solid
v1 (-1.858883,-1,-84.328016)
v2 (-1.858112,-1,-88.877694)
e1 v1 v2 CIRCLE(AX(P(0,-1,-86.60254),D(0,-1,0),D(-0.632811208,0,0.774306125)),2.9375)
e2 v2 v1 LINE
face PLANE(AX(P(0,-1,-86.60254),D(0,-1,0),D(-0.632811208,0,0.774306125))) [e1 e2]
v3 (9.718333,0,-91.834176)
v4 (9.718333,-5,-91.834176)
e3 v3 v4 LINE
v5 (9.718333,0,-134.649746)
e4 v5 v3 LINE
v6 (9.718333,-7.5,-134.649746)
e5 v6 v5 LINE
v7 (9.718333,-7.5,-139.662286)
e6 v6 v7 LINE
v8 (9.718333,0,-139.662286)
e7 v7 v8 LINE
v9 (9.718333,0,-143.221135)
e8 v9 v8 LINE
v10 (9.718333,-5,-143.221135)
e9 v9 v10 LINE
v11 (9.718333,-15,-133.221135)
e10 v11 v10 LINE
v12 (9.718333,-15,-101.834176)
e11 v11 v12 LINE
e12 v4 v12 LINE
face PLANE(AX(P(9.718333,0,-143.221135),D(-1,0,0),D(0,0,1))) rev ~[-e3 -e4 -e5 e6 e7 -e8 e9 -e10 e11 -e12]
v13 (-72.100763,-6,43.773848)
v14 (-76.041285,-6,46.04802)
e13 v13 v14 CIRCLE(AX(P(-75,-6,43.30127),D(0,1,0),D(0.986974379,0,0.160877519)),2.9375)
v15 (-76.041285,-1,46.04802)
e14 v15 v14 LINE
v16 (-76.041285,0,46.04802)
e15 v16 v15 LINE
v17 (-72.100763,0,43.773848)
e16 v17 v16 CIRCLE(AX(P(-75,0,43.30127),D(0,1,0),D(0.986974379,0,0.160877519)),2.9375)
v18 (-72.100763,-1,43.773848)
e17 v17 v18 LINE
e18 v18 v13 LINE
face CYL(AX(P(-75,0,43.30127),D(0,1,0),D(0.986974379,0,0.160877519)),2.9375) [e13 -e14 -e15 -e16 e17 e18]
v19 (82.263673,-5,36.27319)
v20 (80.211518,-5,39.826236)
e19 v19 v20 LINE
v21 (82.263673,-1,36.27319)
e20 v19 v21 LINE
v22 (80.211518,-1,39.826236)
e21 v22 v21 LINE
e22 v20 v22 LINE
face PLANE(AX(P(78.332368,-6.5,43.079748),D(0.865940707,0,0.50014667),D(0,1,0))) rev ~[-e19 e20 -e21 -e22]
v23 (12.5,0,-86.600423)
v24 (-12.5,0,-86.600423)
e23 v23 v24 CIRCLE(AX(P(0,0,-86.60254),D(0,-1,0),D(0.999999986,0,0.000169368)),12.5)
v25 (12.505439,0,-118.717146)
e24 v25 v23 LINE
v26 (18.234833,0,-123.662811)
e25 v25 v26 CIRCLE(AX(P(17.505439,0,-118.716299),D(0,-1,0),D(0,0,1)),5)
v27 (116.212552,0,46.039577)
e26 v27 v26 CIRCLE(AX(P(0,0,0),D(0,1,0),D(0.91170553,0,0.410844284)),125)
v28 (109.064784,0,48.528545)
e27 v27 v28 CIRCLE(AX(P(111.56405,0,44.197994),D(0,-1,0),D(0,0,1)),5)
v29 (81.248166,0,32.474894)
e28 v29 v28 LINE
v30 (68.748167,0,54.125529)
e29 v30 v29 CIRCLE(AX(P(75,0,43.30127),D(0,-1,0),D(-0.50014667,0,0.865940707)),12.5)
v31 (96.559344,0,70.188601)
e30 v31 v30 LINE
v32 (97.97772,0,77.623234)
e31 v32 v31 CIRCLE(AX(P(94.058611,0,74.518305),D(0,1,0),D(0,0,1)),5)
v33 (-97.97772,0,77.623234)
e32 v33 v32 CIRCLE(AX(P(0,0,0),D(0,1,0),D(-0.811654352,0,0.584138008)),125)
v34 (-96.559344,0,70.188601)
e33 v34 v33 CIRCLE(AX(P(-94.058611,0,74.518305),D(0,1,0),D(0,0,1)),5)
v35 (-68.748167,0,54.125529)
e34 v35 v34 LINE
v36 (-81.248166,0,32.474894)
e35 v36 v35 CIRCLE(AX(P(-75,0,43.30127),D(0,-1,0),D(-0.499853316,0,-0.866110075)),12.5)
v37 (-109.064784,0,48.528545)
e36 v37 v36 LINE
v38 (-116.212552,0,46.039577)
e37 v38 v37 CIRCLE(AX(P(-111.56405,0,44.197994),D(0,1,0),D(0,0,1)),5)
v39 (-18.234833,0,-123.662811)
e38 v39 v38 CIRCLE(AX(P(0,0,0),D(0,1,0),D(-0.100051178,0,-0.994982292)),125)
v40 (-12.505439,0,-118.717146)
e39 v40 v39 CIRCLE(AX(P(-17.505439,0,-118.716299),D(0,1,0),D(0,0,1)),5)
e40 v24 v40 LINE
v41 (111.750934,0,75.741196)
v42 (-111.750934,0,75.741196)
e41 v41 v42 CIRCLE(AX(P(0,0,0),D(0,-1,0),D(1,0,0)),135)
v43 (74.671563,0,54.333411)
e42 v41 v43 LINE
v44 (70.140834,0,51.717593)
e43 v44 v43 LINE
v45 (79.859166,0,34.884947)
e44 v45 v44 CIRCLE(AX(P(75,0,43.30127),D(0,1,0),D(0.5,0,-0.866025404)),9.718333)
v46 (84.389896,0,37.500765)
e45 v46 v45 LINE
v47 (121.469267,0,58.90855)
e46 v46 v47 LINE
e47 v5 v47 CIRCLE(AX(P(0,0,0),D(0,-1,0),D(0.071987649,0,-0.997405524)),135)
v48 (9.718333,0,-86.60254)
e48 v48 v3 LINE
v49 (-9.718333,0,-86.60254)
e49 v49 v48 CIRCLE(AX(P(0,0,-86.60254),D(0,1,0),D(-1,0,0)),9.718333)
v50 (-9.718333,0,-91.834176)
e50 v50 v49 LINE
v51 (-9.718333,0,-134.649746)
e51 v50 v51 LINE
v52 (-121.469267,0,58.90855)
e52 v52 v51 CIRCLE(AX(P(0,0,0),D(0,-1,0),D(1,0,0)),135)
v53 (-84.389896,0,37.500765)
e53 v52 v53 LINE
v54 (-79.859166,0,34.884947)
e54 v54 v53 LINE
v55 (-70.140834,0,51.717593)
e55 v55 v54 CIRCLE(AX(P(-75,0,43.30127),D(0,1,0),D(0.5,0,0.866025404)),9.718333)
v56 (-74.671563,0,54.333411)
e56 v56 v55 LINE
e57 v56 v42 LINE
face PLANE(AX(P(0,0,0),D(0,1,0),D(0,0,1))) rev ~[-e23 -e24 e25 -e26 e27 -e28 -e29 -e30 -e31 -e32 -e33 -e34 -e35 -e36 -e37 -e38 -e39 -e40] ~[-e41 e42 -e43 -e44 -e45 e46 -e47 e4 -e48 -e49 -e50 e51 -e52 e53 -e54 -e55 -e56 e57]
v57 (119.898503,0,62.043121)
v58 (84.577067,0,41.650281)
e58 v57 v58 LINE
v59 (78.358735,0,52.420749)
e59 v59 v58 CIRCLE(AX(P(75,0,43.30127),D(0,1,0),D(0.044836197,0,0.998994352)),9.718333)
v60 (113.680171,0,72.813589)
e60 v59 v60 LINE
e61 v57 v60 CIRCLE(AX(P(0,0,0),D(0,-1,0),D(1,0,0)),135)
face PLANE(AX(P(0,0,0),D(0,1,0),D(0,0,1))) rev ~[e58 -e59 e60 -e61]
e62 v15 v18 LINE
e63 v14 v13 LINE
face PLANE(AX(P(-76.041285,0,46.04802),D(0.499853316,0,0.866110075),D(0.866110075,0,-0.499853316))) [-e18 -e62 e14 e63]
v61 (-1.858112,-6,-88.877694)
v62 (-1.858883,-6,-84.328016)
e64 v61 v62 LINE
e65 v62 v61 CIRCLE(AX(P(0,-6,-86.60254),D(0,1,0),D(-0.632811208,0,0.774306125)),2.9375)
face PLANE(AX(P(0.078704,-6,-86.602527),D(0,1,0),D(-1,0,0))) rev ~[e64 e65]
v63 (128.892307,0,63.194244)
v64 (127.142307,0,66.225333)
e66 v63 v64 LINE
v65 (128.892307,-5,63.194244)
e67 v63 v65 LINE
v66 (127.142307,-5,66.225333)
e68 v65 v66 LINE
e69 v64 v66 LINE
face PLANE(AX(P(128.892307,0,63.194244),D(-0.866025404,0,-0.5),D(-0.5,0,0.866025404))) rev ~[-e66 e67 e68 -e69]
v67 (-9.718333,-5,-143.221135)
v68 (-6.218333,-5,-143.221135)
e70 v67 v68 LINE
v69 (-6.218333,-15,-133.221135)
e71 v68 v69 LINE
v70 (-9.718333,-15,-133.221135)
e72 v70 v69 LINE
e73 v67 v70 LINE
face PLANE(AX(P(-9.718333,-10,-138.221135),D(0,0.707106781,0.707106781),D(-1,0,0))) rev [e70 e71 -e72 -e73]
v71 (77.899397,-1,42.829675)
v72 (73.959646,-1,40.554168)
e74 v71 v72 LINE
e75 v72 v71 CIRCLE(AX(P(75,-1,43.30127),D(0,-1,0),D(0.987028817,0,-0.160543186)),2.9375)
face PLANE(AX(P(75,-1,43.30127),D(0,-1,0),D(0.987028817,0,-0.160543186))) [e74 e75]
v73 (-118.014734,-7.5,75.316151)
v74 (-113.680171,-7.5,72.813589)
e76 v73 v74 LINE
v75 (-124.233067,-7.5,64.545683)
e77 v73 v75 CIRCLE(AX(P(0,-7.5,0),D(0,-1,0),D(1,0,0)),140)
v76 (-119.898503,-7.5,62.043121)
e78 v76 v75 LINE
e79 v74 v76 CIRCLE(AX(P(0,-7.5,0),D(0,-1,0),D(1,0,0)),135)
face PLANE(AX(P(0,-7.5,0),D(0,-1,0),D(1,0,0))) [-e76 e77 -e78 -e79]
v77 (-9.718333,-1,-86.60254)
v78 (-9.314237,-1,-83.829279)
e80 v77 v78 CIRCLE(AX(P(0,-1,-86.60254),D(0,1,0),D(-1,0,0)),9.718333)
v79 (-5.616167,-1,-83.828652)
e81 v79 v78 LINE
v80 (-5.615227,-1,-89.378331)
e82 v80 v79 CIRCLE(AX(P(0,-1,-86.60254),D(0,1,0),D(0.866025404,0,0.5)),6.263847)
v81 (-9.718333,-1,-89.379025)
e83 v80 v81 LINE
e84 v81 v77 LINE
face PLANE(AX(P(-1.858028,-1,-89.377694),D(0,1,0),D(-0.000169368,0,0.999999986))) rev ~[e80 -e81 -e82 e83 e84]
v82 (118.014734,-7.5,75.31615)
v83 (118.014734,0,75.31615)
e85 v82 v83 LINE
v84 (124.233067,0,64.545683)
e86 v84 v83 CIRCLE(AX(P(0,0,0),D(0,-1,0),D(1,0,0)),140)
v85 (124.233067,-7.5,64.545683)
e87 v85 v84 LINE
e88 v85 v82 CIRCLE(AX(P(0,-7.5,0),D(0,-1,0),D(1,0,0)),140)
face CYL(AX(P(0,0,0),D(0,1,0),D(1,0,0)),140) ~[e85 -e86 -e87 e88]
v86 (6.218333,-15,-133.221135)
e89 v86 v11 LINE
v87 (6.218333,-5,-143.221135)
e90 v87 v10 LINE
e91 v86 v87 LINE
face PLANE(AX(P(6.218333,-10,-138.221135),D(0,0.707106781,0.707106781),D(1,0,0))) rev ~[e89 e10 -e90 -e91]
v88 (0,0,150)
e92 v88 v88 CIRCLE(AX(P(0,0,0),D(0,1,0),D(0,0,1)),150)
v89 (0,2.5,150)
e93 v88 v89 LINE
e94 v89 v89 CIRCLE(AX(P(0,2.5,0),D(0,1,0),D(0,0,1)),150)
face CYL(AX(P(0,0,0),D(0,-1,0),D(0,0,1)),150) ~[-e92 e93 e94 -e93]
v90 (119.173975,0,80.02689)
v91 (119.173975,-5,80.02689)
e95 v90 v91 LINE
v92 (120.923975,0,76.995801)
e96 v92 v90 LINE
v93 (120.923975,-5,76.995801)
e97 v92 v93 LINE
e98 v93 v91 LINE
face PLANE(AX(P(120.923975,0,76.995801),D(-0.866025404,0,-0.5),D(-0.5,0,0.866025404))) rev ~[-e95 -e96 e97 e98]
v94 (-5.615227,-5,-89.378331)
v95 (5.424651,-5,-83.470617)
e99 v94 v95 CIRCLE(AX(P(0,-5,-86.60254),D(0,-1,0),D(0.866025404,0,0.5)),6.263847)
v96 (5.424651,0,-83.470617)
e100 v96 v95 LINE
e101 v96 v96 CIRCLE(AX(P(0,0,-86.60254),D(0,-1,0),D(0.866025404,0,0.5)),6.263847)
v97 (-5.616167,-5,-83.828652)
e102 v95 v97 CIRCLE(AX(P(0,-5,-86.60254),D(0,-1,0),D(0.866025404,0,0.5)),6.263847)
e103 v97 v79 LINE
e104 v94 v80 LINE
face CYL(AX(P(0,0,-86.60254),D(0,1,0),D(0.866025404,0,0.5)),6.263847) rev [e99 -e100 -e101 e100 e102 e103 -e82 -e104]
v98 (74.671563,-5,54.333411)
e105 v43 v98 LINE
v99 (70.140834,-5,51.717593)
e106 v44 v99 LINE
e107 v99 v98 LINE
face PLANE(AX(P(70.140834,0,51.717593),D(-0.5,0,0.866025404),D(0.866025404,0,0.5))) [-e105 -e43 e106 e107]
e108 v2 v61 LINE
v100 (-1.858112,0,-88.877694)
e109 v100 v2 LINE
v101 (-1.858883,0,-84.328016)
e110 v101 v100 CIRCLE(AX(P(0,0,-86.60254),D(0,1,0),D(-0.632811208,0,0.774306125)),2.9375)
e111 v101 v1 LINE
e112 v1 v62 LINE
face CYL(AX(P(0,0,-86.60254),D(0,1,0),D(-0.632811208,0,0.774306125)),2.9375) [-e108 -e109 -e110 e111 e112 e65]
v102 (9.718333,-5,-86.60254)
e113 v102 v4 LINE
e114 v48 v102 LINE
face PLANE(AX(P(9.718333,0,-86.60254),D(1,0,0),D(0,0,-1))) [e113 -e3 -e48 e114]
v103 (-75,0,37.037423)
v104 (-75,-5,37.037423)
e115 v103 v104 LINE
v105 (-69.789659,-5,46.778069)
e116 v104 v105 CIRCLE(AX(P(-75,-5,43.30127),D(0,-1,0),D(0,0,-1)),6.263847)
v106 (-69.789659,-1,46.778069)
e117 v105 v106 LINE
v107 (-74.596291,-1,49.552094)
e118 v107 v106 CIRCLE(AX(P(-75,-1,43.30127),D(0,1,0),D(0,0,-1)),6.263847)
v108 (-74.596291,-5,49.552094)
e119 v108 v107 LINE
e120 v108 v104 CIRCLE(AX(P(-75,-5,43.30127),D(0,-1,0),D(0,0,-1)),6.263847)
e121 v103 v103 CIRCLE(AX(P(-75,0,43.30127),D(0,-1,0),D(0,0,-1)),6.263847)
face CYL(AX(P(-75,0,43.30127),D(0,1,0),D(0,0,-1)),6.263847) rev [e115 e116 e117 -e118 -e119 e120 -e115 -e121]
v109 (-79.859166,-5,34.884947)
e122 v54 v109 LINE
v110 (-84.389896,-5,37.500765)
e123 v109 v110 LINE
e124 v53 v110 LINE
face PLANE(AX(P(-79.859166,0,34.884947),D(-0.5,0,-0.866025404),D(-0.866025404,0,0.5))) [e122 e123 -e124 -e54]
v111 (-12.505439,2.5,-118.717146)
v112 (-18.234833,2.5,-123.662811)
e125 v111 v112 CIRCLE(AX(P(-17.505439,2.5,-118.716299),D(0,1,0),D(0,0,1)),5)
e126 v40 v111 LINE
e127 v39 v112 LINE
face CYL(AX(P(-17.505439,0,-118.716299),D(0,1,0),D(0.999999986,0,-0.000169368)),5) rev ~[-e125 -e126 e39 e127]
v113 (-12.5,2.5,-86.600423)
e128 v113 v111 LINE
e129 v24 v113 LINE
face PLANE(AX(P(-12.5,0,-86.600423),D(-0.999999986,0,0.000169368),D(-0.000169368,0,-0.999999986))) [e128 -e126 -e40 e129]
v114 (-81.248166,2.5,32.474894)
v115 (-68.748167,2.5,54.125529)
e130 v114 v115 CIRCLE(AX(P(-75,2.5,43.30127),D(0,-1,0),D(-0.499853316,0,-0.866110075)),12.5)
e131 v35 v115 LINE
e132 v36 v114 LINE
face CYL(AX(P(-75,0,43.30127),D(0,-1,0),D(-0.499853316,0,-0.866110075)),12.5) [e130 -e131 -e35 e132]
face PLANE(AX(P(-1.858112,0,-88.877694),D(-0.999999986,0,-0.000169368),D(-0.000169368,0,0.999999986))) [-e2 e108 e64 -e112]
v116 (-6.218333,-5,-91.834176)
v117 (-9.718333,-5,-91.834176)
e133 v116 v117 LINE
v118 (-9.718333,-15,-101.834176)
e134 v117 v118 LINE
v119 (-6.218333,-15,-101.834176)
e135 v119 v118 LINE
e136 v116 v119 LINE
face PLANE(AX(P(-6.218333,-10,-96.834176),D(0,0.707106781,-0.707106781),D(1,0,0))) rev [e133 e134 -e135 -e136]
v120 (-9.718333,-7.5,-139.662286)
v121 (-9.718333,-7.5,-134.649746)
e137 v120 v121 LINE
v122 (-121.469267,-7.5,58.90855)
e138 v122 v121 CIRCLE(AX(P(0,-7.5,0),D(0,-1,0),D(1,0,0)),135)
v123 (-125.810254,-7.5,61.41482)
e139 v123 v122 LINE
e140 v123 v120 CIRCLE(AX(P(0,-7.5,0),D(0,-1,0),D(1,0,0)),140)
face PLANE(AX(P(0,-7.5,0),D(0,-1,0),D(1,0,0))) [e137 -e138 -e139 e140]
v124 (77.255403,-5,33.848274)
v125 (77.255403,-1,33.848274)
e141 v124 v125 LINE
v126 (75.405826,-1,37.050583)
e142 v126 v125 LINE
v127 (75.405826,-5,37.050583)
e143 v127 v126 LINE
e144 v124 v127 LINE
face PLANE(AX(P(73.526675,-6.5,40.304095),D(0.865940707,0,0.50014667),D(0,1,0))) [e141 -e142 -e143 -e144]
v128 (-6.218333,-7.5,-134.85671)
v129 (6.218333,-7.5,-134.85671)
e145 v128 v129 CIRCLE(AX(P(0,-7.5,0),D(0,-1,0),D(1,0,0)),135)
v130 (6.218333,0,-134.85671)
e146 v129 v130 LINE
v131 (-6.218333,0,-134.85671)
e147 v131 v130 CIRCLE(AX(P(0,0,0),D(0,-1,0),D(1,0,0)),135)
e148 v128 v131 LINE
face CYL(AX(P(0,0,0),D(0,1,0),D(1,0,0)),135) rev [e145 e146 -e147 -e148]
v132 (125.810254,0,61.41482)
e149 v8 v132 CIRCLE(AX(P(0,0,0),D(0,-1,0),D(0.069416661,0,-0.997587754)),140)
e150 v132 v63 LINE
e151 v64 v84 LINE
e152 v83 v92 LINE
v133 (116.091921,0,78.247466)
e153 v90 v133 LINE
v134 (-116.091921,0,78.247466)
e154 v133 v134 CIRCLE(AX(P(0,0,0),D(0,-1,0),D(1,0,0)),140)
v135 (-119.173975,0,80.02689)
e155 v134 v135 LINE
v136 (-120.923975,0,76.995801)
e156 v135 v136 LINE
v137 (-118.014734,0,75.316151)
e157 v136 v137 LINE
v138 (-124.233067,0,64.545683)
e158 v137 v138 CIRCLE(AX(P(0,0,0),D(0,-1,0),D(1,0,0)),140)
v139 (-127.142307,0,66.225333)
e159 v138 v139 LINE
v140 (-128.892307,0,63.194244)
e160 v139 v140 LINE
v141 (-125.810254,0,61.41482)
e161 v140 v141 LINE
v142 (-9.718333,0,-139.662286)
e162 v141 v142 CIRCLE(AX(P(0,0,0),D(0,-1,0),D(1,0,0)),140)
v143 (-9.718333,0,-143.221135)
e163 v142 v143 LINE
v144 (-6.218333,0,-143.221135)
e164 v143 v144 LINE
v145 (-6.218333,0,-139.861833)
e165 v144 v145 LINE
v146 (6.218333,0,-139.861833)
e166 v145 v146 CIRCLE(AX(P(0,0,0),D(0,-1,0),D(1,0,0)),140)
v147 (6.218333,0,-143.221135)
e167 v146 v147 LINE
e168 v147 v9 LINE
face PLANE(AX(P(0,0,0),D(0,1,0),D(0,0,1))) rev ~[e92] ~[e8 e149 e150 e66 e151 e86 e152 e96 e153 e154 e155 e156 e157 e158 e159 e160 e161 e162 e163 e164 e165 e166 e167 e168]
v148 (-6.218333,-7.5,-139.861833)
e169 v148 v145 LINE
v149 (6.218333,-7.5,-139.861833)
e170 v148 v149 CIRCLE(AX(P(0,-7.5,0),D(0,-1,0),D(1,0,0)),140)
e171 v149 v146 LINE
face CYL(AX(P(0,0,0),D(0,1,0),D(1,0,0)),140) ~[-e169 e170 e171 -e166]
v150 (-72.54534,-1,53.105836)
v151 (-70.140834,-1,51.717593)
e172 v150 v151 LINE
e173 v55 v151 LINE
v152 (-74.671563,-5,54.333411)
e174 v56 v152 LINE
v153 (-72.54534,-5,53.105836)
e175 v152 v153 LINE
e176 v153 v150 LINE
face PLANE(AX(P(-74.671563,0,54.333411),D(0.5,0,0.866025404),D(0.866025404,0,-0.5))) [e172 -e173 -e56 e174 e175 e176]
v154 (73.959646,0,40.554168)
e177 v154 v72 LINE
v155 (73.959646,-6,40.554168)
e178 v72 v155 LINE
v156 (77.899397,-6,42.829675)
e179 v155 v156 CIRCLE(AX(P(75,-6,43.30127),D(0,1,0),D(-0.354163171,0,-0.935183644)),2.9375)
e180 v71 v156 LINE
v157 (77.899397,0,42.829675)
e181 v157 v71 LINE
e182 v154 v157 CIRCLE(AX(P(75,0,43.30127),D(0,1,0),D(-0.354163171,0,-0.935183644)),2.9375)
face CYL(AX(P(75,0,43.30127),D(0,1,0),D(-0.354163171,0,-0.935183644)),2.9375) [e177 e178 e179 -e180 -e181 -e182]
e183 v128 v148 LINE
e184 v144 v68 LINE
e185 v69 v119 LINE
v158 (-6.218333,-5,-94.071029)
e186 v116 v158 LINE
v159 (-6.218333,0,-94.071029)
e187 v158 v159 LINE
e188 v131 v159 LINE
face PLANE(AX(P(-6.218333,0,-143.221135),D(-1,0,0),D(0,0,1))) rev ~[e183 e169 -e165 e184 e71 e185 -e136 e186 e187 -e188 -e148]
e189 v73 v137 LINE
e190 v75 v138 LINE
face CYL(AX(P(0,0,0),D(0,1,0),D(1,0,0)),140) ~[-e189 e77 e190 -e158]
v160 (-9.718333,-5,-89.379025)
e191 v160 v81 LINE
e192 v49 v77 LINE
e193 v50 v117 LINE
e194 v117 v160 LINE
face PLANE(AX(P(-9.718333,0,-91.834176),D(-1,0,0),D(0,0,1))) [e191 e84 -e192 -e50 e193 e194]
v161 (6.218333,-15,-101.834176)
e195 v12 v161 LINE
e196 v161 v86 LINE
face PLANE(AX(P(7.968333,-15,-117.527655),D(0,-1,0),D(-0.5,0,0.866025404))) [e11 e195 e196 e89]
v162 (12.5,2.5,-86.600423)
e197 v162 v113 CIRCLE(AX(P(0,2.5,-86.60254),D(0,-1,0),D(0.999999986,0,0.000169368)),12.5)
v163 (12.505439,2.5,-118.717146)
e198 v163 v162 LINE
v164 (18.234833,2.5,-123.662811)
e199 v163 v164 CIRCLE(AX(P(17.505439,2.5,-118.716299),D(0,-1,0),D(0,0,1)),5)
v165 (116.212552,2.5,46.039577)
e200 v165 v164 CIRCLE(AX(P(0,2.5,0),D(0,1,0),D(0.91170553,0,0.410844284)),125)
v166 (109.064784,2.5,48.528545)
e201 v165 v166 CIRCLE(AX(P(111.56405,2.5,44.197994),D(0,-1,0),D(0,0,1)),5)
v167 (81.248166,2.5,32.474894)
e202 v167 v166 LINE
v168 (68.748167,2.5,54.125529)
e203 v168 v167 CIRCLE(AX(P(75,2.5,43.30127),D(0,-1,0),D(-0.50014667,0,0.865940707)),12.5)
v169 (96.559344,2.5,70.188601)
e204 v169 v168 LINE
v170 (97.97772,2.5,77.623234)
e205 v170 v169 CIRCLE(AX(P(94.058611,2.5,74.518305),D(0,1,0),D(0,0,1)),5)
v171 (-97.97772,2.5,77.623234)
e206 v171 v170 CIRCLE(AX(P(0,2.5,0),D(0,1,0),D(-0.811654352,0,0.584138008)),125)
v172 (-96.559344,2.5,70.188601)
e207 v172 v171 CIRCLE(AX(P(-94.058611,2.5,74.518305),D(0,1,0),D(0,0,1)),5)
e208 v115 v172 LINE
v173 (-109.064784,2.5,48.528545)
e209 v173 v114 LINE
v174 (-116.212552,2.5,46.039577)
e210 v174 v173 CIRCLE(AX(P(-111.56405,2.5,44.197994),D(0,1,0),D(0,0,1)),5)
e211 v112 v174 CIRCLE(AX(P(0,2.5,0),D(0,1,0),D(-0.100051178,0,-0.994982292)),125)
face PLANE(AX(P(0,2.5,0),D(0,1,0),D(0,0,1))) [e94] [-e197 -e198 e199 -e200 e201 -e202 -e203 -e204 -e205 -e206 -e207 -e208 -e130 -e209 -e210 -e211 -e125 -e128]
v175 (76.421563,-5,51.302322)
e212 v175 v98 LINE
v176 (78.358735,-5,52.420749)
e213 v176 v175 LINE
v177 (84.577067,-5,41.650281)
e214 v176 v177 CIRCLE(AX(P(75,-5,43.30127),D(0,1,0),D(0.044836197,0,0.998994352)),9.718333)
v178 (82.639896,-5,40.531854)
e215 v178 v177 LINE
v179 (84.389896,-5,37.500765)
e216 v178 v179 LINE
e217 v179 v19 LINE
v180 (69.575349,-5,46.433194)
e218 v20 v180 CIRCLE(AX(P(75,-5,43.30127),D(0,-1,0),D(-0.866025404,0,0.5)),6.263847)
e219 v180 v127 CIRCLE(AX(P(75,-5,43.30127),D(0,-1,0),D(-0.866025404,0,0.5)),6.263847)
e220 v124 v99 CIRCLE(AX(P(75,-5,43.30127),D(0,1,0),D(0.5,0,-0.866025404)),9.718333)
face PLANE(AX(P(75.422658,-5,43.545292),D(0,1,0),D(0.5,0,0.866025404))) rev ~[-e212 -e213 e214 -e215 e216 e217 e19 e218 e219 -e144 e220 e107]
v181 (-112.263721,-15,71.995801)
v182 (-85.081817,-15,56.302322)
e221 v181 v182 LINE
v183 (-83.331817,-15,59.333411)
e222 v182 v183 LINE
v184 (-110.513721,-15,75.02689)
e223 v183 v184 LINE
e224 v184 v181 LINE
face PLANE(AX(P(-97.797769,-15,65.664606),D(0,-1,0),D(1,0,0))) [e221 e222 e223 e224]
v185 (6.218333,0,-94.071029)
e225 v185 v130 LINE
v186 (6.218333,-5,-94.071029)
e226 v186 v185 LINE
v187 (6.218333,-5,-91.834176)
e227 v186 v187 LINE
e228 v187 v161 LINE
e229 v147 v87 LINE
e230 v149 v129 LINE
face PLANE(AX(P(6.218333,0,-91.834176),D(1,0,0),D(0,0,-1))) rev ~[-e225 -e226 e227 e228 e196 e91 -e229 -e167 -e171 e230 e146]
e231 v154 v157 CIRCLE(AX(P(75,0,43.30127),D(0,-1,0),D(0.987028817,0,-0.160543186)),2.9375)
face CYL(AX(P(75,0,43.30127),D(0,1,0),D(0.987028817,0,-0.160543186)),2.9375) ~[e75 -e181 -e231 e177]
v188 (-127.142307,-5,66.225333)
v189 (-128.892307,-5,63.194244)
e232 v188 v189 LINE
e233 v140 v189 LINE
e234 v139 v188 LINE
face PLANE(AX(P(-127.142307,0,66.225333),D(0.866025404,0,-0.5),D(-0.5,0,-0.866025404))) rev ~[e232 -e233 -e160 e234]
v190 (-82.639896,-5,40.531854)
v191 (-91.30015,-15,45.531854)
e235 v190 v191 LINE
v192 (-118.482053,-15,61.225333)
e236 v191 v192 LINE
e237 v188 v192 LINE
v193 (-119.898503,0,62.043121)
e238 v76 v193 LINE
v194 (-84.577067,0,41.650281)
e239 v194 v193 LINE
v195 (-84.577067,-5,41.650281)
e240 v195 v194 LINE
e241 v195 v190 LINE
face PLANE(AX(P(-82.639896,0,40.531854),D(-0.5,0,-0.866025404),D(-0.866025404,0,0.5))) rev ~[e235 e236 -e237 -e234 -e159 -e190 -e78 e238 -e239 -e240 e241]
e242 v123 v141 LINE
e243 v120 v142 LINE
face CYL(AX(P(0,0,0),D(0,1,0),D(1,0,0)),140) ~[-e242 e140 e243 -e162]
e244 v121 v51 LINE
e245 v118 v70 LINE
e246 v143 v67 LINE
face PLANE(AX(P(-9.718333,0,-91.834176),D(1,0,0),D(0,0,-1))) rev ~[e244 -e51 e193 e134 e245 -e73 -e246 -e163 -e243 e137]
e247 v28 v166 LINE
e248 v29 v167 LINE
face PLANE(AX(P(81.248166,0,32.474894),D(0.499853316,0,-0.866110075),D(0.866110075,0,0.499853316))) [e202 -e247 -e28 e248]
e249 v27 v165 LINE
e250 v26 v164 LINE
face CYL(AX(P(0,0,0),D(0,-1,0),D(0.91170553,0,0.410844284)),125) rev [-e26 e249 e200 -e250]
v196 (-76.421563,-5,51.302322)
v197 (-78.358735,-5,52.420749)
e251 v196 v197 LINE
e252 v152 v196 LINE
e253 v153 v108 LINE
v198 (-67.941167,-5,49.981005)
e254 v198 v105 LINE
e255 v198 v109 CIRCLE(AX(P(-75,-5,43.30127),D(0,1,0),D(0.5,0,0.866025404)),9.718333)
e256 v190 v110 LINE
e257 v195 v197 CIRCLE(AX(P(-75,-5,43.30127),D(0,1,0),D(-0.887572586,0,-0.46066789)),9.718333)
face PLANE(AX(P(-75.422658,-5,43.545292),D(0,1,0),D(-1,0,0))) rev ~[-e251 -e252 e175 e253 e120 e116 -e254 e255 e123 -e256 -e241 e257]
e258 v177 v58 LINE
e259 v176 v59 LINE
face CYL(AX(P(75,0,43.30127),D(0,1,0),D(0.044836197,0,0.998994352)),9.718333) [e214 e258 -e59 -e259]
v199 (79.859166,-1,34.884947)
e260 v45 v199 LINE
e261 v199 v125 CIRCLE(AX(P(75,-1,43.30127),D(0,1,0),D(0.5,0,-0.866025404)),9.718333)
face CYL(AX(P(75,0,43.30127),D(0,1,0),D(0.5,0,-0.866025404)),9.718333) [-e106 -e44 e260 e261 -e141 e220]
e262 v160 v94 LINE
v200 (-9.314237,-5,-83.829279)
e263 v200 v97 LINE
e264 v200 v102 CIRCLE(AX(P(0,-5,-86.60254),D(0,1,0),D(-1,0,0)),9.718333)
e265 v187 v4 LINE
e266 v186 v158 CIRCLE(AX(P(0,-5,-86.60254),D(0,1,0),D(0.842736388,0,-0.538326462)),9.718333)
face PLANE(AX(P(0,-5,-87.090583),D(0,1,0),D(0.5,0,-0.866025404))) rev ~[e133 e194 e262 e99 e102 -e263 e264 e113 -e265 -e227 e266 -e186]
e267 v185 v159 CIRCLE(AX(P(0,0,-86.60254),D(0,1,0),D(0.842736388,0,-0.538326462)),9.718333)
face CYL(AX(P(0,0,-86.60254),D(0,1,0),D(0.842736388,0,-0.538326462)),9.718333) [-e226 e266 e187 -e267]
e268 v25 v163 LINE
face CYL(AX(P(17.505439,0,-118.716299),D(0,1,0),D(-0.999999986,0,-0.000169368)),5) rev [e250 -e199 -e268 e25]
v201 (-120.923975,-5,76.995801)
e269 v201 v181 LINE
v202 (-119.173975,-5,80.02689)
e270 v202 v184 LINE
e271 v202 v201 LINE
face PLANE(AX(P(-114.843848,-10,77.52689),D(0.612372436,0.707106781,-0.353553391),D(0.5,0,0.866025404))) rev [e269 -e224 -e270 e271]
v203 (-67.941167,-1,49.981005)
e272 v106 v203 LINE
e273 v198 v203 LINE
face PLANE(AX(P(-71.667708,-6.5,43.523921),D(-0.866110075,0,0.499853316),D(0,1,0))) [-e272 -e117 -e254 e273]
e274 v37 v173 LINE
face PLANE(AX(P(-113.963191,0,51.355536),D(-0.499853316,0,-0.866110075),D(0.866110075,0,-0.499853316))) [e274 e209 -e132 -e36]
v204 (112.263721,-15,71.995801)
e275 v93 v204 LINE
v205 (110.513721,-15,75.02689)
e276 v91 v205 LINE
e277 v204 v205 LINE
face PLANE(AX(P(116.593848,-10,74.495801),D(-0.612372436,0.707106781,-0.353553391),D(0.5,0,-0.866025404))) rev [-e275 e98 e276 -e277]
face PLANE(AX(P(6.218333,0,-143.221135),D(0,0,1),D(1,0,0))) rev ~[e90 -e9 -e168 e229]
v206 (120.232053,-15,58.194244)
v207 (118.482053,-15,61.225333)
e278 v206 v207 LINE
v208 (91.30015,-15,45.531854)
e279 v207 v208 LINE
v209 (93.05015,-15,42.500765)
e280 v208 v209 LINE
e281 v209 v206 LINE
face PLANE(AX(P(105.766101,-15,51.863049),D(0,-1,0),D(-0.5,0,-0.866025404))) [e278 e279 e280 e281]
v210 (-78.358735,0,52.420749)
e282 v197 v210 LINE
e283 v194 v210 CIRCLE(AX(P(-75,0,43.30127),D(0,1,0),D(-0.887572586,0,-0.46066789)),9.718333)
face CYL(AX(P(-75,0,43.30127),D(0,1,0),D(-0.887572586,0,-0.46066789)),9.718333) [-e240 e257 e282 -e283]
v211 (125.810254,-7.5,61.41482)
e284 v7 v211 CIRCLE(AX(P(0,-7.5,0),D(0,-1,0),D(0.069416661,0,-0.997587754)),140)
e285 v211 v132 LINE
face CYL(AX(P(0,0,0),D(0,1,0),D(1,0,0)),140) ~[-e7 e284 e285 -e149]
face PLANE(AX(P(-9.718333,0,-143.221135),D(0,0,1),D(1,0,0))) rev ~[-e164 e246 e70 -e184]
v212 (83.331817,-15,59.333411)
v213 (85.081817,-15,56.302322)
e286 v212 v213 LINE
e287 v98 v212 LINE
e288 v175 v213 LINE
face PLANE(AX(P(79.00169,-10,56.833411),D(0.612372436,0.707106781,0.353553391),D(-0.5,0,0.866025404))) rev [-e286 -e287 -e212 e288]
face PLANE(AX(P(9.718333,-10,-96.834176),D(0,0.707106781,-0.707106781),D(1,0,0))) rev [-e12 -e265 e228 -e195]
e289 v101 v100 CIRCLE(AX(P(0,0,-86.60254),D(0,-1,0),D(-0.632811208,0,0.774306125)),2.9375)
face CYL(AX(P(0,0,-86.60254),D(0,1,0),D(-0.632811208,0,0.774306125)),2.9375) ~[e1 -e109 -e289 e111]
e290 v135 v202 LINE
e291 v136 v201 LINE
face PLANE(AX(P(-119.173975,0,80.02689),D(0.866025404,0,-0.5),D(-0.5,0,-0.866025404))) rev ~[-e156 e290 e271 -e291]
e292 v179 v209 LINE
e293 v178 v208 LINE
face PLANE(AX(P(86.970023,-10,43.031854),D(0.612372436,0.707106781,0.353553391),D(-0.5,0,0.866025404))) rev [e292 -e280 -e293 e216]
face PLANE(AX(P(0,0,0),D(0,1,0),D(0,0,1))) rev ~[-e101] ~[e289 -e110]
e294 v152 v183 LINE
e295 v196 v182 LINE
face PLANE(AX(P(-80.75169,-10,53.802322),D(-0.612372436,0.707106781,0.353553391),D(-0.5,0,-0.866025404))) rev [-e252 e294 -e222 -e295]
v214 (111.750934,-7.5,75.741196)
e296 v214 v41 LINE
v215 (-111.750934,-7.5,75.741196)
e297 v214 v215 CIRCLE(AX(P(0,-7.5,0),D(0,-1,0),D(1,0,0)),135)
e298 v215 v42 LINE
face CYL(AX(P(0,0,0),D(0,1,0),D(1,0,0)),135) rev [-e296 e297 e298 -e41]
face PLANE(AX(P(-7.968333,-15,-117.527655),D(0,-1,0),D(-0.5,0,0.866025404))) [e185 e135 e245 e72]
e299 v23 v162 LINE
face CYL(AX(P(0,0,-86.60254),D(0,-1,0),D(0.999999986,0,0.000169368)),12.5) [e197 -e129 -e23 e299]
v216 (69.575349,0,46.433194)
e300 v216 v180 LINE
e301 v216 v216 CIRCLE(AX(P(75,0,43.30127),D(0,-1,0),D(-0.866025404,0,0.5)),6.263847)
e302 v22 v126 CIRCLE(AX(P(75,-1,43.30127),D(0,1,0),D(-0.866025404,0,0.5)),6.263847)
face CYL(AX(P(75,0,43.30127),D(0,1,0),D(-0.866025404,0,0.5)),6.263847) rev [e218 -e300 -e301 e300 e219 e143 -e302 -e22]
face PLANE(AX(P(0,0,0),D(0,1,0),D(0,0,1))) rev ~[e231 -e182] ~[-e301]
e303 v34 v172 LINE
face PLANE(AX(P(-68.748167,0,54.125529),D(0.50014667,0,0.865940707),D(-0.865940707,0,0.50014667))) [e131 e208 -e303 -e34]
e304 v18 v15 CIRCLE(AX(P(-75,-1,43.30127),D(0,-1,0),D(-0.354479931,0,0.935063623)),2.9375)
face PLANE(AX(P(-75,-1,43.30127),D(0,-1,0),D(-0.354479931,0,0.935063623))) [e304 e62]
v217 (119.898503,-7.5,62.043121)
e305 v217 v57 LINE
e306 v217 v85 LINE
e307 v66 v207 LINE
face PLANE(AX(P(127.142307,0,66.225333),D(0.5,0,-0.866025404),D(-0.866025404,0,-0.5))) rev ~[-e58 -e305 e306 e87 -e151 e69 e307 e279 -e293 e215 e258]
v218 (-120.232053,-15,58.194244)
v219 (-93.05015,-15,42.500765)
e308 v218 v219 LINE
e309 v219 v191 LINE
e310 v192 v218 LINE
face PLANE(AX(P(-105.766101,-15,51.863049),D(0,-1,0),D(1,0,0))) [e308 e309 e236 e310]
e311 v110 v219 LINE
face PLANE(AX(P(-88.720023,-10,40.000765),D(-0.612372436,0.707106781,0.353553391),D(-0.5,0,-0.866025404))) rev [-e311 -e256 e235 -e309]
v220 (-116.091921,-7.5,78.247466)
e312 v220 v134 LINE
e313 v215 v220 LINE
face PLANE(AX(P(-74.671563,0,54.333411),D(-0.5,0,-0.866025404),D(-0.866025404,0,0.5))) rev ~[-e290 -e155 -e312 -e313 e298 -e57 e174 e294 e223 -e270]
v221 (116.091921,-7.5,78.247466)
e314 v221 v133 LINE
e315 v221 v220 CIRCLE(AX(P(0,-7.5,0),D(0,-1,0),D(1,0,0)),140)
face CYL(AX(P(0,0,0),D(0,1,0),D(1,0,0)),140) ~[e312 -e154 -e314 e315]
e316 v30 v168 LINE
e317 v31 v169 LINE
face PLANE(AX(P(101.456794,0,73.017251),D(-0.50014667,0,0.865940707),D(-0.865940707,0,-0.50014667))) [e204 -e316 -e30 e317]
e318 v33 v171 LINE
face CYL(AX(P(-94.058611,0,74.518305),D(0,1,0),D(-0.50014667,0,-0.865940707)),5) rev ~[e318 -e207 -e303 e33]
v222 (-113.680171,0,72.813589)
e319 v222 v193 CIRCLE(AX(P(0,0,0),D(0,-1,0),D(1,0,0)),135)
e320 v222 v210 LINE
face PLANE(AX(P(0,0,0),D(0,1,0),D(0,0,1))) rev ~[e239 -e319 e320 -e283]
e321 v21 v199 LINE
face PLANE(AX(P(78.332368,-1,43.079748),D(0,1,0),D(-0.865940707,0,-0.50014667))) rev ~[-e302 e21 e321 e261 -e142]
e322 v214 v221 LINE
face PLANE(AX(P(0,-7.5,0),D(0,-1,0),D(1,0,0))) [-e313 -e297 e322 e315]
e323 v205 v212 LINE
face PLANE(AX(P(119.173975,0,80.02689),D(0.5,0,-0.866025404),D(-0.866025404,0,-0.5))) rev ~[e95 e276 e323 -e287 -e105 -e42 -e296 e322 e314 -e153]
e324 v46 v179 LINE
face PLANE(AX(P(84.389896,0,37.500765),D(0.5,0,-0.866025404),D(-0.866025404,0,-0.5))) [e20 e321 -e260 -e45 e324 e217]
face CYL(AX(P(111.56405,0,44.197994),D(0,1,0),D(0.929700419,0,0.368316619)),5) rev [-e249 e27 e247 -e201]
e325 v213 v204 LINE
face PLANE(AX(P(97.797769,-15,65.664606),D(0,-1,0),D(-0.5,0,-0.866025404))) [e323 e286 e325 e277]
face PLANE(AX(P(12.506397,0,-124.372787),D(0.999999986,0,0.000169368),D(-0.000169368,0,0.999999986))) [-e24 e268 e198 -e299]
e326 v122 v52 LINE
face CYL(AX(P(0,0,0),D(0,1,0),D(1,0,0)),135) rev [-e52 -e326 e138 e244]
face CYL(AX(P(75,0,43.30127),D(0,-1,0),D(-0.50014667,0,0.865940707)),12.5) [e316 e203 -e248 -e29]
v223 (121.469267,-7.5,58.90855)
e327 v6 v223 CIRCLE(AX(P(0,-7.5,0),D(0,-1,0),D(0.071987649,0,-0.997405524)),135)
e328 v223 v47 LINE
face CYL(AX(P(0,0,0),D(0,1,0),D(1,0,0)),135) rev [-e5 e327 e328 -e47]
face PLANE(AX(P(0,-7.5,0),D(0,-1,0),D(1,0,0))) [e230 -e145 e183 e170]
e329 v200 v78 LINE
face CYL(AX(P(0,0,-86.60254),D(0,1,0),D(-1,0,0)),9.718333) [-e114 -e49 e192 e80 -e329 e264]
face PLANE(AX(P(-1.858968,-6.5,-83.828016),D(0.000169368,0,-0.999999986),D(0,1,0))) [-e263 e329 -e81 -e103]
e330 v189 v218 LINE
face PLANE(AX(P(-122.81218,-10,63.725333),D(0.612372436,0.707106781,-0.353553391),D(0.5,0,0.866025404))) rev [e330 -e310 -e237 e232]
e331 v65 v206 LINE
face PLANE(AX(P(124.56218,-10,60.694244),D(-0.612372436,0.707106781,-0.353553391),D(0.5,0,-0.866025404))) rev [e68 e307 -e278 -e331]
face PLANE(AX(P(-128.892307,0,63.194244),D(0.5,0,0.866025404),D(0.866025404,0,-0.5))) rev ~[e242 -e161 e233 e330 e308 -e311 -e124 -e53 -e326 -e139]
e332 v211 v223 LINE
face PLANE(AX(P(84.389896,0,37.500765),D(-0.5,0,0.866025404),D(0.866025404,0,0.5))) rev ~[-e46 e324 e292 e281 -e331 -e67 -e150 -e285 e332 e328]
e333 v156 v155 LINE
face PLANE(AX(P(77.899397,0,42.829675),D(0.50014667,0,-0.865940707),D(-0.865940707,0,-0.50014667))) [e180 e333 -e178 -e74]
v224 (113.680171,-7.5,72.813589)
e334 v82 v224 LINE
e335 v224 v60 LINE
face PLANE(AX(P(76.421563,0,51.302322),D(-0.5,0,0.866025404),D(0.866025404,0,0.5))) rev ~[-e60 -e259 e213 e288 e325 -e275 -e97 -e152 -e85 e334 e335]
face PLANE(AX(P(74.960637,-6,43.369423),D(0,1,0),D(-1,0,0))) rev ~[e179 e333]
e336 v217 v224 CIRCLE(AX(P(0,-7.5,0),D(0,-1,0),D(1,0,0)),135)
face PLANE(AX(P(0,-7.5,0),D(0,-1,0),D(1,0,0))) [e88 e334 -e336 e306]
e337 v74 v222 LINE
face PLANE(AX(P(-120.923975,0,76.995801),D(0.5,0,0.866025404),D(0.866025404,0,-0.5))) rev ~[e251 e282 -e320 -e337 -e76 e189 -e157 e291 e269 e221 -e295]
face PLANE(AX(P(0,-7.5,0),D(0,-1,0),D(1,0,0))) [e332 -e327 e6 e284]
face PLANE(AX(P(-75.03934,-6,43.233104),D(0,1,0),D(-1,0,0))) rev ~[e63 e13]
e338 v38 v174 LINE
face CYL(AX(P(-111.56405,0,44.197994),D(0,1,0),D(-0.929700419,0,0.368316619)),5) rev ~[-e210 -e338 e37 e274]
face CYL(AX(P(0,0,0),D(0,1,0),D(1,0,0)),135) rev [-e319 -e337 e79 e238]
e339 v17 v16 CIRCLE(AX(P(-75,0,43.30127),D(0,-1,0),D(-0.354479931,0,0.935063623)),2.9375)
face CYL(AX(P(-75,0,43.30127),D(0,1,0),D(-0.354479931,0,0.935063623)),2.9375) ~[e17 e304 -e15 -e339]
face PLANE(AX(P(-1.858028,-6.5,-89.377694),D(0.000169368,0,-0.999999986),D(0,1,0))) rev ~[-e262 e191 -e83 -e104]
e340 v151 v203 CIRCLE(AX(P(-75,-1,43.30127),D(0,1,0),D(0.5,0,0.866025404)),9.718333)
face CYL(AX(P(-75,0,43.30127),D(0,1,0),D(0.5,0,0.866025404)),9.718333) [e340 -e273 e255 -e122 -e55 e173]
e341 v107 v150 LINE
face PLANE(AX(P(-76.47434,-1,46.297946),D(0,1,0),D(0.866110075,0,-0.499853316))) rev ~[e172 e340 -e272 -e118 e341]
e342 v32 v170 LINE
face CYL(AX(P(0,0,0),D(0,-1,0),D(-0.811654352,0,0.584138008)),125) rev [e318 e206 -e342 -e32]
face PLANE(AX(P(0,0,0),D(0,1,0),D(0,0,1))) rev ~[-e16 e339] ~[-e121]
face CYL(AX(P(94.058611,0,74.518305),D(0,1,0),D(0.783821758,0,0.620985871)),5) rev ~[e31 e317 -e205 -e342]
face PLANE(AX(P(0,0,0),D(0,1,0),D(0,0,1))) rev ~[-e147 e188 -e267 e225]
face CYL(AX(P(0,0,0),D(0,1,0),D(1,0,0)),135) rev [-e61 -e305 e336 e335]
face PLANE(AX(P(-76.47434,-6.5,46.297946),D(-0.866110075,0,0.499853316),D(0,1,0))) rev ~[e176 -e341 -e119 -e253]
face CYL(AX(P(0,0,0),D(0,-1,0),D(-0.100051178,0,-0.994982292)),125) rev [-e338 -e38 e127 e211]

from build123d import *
from build123d.topology import SkipClean

# Parameters (mm, degrees)
SKETCH1_R                    = 150
BOSS_EXTRUDE1_DEPTH          = 2.5
BOSS_EXTRUDE2_DEPTH          = 6
SKETCH3_R                    = 2.9375
BOSS_EXTRUDE3_DEPTH          = 1
BOSS_EXTRUDE4_DEPTH          = 15
CHAMFER1_SIZE                = 10
SKETCH5_R                    = 140
SKETCH5_R_2                  = 135
BOSS_EXTRUDE5_DEPTH          = 7.5
CIRPATTERN1_COUNT            = 3
CHAMFER1_OF_CIRPATTERN1_SIZE = 10
SKETCH6_R                    = 6.263847164
BOSS_EXTRUDE6_DEPTH          = 5
CUT_EXTRUDE2_REACH           = 216.467
SKETCH7_W                    = 5.549678092
SKETCH7_H                    = 5.5
CIRPATTERN2_COUNT            = 3
FILLET1_R                    = 5


with BuildPart() as part:
    # Sketch1 → Boss-Extrude1 (new body)
    with BuildSketch(Plane(origin=(0, 0, 0), x_dir=(1, 0, 0), z_dir=(0, 1, 0))):
        with Locations(Location((0, 0, 0), (0, 0, 270))):
            Circle(SKETCH1_R)
        with BuildLine():
            Line((-12.499999821, 86.600423276), (-12.506397258, 124.372786524))
            ThreePointArc((-12.506397258, 124.372786524), (-108.253175473, 62.5), (-113.963191298, -51.355535527))
            Line((-113.963191298, -51.355535527), (-81.248166446, -32.474894246))
            ThreePointArc((-81.248166446, -32.474894246), (-64.174682453, -37.051270189), (-68.748166625, -54.12552903))
            Line((-68.748166625, -54.12552903), (-101.45679404, -73.017250997))
            ThreePointArc((-101.45679404, -73.017250997), (0, -125), (101.45679404, -73.017250997))
            Line((101.45679404, -73.017250997), (68.748166625, -54.12552903))
            ThreePointArc((68.748166625, -54.12552903), (64.174682453, -37.051270189), (81.248166446, -32.474894246))
            Line((81.248166446, -32.474894246), (113.963191298, -51.355535527))
            ThreePointArc((113.963191298, -51.355535527), (108.253175473, 62.5), (12.506397258, 124.372786524))
            Line((12.506397258, 124.372786524), (12.499999821, 86.600423276))
            ThreePointArc((12.499999821, 86.600423276), (0, 74.102540378), (-12.499999821, 86.600423276))
        make_face(mode=Mode.SUBTRACT)
    extrude(amount=BOSS_EXTRUDE1_DEPTH)

    # Sketch2 → Boss-Extrude2 (add)
    with BuildSketch(Plane.XZ):
        with BuildLine():
            Line((-76.041284798, 46.048019581), (-72.100762763, 43.773847901))
            ThreePointArc((-72.100762763, 43.773847901), (-76.468319115, 40.757071843), (-76.041284798, 46.048019581))
        make_face()
        with BuildLine():
            Line((77.89939715, 42.829674582), (73.959645685, 40.554168234))
            ThreePointArc((73.959645685, 40.554168234), (73.530819157, 45.844971017), (77.89939715, 42.829674582))
        make_face()
        with BuildLine():
            Line((-1.858112352, -88.877694162), (-1.858882922, -84.328016136))
            ThreePointArc((-1.858882922, -84.328016136), (2.937499958, -86.602042859), (-1.858112352, -88.877694162))
        make_face()
    extrude(amount=BOSS_EXTRUDE2_DEPTH)

    # Sketch3 → Boss-Extrude3 (add)
    with SkipClean():  # the faces are left unmerged after this step: merging them gives an invalid solid
        with BuildSketch(Plane.XZ):
            with Locations(Location((-75, 43.301270189, 0), (0, 0, 110.761573949))):
                Circle(SKETCH3_R)
            with Locations(Location((75, 43.301270189, 0), (0, 0, 350.761573949))):
                Circle(SKETCH3_R)
            with Locations(Location((0, -86.602540378, 0), (0, 0, 129.257834216))):
                Circle(SKETCH3_R)
        extrude(amount=BOSS_EXTRUDE3_DEPTH)

    # Sketch4 → Boss-Extrude4 (add)
    with SkipClean():  # the faces are left unmerged after this step: merging them gives an invalid solid
        with BuildSketch(Plane.XZ):
            Polygon((-128.89230729, 63.194244449), (-84.389895617, 37.50076509), (-82.639895617, 40.531854003), (-127.14230729, 66.225333363), align=None)
            Polygon((-120.923974711, 76.995801328), (-76.421563038, 51.302321968), (-74.671563038, 54.333410882), (-119.173974711, 80.026890241), align=None)
        boss_extrude4 = extrude(amount=BOSS_EXTRUDE4_DEPTH)

    # Chamfer1
    chamfer1_edges = [part.edges().sort_by_distance(p)[0] for p in [
        (-128.01730729, -15, 64.709788906),
        (-83.514895617, -15, 39.016309547),
        (-120.048974711, -15, 78.511345784),
        (-75.546563038, -15, 52.817866425),
    ]]
    chamfer(chamfer1_edges, length=CHAMFER1_SIZE)

    # Sketch5 → Boss-Extrude5 (add)
    with SkipClean():  # the faces are left unmerged after this step: merging them gives an invalid solid
        with BuildSketch(Plane.XZ):
            Circle(SKETCH5_R)
            Circle(SKETCH5_R_2, mode=Mode.SUBTRACT)
        extrude(amount=BOSS_EXTRUDE5_DEPTH)

    # CirPattern1: Boss-Extrude4 ×3 about axis
    with SkipClean():  # the faces are left unmerged after this step: merging them gives an invalid solid
        cirpattern1_axis = Axis((0, 0, 0), (0, 1, 0))
        for i in range(1, CIRPATTERN1_COUNT):
            add(boss_extrude4.rotate(cirpattern1_axis, i * 360 / CIRPATTERN1_COUNT))

    # Chamfer1 of CirPattern1
    chamfer1_of_cirpattern1_edges = [part.edges().sort_by_distance(p)[0] for p in [
        (120.048974711, -15, 78.511345784),
        (75.546563038, -15, 52.817866425),
        (128.01730729, -15, 64.709788906),
        (83.514895617, -15, 39.016309547),
        (7.968332579, -15, -143.22113469),
        (7.968332579, -15, -91.834175972),
        (-7.968332579, -15, -143.22113469),
        (-7.968332579, -15, -91.834175972),
    ]]
    chamfer(chamfer1_of_cirpattern1_edges, length=CHAMFER1_OF_CIRPATTERN1_SIZE)

    # Sketch6 → Boss-Extrude6 (add)
    with SkipClean():  # the faces are left unmerged after this step: merging them gives an invalid solid
        with BuildSketch(Plane.XZ):
            with BuildLine():
                Line((-74.671563038, 54.333410882), (-70.140833711, 51.717593085))
                ThreePointArc((-70.140833711, 51.717593085), (-66.583677104, 38.4421039), (-79.859166289, 34.884947293))
                Line((-79.859166289, 34.884947293), (-84.389895617, 37.50076509))
                Line((-84.389895617, 37.50076509), (-83.625725577, 38.824346425))
                ThreePointArc((-83.625725577, 38.824346425), (-83.416322896, 48.160436479), (-75.435733078, 53.009829547))
                Line((-75.435733078, 53.009829547), (-74.671563038, 54.333410882))
            make_face()
            with Locations(Location((-75, 43.301270189, 0), (0, 0, 270))):
                Circle(SKETCH6_R, mode=Mode.SUBTRACT)
        boss_extrude6 = extrude(amount=BOSS_EXTRUDE6_DEPTH)

    # Sketch7 → Cut-Extrude2 (cut, up to next)
    with BuildSketch(Plane(origin=(0.936307925, 0, 1.622367408), x_dir=(0.8661100754576421, 0, -0.4998533156744661), z_dir=(0.4998533156744661, 0, 0.8661100754576421)), mode=Mode.PRIVATE) as cut_extrude2_sk1:
        with Locations((-86.602539136, -3.75)):
            Rectangle(SKETCH7_W, SKETCH7_H)
    cut_extrude2_tool1 = extrude(cut_extrude2_sk1.sketch, amount=CUT_EXTRUDE2_REACH, mode=Mode.PRIVATE) & part.part
    cut_extrude2 = cut_extrude2_tool1.solids().sort_by_distance((-74.071024, -3.75, 44.910934))[0]
    add(cut_extrude2, mode=Mode.SUBTRACT)

    # CirPattern2: Boss-Extrude6, Cut-Extrude2 ×3 about axis
    with SkipClean():  # the faces are left unmerged after this step: merging them gives an invalid solid
        cirpattern2_axis = Axis((0, 0, 0), (0, 1, 0))
        add([boss_extrude6.rotate(cirpattern2_axis, i * 360 / CIRPATTERN2_COUNT) for i in range(1, CIRPATTERN2_COUNT)])
        add([cut_extrude2.rotate(cirpattern2_axis, i * 360 / CIRPATTERN2_COUNT) for i in range(1, CIRPATTERN2_COUNT)], mode=Mode.SUBTRACT)

    # Fillet1
    fillet1_edges = [part.edges().sort_by_distance(p)[0] for p in [
        (-12.506397258, 1.25, -124.372786524),
        (-113.963191298, 1.25, 51.355535527),
        (-101.45679404, 1.25, 73.017250997),
        (101.45679404, 1.25, 73.017250997),
        (113.963191298, 1.25, 51.355535527),
        (12.506397258, 1.25, -124.372786524),
    ]]
    fillet(fillet1_edges, radius=FILLET1_R)


solid = part.part
